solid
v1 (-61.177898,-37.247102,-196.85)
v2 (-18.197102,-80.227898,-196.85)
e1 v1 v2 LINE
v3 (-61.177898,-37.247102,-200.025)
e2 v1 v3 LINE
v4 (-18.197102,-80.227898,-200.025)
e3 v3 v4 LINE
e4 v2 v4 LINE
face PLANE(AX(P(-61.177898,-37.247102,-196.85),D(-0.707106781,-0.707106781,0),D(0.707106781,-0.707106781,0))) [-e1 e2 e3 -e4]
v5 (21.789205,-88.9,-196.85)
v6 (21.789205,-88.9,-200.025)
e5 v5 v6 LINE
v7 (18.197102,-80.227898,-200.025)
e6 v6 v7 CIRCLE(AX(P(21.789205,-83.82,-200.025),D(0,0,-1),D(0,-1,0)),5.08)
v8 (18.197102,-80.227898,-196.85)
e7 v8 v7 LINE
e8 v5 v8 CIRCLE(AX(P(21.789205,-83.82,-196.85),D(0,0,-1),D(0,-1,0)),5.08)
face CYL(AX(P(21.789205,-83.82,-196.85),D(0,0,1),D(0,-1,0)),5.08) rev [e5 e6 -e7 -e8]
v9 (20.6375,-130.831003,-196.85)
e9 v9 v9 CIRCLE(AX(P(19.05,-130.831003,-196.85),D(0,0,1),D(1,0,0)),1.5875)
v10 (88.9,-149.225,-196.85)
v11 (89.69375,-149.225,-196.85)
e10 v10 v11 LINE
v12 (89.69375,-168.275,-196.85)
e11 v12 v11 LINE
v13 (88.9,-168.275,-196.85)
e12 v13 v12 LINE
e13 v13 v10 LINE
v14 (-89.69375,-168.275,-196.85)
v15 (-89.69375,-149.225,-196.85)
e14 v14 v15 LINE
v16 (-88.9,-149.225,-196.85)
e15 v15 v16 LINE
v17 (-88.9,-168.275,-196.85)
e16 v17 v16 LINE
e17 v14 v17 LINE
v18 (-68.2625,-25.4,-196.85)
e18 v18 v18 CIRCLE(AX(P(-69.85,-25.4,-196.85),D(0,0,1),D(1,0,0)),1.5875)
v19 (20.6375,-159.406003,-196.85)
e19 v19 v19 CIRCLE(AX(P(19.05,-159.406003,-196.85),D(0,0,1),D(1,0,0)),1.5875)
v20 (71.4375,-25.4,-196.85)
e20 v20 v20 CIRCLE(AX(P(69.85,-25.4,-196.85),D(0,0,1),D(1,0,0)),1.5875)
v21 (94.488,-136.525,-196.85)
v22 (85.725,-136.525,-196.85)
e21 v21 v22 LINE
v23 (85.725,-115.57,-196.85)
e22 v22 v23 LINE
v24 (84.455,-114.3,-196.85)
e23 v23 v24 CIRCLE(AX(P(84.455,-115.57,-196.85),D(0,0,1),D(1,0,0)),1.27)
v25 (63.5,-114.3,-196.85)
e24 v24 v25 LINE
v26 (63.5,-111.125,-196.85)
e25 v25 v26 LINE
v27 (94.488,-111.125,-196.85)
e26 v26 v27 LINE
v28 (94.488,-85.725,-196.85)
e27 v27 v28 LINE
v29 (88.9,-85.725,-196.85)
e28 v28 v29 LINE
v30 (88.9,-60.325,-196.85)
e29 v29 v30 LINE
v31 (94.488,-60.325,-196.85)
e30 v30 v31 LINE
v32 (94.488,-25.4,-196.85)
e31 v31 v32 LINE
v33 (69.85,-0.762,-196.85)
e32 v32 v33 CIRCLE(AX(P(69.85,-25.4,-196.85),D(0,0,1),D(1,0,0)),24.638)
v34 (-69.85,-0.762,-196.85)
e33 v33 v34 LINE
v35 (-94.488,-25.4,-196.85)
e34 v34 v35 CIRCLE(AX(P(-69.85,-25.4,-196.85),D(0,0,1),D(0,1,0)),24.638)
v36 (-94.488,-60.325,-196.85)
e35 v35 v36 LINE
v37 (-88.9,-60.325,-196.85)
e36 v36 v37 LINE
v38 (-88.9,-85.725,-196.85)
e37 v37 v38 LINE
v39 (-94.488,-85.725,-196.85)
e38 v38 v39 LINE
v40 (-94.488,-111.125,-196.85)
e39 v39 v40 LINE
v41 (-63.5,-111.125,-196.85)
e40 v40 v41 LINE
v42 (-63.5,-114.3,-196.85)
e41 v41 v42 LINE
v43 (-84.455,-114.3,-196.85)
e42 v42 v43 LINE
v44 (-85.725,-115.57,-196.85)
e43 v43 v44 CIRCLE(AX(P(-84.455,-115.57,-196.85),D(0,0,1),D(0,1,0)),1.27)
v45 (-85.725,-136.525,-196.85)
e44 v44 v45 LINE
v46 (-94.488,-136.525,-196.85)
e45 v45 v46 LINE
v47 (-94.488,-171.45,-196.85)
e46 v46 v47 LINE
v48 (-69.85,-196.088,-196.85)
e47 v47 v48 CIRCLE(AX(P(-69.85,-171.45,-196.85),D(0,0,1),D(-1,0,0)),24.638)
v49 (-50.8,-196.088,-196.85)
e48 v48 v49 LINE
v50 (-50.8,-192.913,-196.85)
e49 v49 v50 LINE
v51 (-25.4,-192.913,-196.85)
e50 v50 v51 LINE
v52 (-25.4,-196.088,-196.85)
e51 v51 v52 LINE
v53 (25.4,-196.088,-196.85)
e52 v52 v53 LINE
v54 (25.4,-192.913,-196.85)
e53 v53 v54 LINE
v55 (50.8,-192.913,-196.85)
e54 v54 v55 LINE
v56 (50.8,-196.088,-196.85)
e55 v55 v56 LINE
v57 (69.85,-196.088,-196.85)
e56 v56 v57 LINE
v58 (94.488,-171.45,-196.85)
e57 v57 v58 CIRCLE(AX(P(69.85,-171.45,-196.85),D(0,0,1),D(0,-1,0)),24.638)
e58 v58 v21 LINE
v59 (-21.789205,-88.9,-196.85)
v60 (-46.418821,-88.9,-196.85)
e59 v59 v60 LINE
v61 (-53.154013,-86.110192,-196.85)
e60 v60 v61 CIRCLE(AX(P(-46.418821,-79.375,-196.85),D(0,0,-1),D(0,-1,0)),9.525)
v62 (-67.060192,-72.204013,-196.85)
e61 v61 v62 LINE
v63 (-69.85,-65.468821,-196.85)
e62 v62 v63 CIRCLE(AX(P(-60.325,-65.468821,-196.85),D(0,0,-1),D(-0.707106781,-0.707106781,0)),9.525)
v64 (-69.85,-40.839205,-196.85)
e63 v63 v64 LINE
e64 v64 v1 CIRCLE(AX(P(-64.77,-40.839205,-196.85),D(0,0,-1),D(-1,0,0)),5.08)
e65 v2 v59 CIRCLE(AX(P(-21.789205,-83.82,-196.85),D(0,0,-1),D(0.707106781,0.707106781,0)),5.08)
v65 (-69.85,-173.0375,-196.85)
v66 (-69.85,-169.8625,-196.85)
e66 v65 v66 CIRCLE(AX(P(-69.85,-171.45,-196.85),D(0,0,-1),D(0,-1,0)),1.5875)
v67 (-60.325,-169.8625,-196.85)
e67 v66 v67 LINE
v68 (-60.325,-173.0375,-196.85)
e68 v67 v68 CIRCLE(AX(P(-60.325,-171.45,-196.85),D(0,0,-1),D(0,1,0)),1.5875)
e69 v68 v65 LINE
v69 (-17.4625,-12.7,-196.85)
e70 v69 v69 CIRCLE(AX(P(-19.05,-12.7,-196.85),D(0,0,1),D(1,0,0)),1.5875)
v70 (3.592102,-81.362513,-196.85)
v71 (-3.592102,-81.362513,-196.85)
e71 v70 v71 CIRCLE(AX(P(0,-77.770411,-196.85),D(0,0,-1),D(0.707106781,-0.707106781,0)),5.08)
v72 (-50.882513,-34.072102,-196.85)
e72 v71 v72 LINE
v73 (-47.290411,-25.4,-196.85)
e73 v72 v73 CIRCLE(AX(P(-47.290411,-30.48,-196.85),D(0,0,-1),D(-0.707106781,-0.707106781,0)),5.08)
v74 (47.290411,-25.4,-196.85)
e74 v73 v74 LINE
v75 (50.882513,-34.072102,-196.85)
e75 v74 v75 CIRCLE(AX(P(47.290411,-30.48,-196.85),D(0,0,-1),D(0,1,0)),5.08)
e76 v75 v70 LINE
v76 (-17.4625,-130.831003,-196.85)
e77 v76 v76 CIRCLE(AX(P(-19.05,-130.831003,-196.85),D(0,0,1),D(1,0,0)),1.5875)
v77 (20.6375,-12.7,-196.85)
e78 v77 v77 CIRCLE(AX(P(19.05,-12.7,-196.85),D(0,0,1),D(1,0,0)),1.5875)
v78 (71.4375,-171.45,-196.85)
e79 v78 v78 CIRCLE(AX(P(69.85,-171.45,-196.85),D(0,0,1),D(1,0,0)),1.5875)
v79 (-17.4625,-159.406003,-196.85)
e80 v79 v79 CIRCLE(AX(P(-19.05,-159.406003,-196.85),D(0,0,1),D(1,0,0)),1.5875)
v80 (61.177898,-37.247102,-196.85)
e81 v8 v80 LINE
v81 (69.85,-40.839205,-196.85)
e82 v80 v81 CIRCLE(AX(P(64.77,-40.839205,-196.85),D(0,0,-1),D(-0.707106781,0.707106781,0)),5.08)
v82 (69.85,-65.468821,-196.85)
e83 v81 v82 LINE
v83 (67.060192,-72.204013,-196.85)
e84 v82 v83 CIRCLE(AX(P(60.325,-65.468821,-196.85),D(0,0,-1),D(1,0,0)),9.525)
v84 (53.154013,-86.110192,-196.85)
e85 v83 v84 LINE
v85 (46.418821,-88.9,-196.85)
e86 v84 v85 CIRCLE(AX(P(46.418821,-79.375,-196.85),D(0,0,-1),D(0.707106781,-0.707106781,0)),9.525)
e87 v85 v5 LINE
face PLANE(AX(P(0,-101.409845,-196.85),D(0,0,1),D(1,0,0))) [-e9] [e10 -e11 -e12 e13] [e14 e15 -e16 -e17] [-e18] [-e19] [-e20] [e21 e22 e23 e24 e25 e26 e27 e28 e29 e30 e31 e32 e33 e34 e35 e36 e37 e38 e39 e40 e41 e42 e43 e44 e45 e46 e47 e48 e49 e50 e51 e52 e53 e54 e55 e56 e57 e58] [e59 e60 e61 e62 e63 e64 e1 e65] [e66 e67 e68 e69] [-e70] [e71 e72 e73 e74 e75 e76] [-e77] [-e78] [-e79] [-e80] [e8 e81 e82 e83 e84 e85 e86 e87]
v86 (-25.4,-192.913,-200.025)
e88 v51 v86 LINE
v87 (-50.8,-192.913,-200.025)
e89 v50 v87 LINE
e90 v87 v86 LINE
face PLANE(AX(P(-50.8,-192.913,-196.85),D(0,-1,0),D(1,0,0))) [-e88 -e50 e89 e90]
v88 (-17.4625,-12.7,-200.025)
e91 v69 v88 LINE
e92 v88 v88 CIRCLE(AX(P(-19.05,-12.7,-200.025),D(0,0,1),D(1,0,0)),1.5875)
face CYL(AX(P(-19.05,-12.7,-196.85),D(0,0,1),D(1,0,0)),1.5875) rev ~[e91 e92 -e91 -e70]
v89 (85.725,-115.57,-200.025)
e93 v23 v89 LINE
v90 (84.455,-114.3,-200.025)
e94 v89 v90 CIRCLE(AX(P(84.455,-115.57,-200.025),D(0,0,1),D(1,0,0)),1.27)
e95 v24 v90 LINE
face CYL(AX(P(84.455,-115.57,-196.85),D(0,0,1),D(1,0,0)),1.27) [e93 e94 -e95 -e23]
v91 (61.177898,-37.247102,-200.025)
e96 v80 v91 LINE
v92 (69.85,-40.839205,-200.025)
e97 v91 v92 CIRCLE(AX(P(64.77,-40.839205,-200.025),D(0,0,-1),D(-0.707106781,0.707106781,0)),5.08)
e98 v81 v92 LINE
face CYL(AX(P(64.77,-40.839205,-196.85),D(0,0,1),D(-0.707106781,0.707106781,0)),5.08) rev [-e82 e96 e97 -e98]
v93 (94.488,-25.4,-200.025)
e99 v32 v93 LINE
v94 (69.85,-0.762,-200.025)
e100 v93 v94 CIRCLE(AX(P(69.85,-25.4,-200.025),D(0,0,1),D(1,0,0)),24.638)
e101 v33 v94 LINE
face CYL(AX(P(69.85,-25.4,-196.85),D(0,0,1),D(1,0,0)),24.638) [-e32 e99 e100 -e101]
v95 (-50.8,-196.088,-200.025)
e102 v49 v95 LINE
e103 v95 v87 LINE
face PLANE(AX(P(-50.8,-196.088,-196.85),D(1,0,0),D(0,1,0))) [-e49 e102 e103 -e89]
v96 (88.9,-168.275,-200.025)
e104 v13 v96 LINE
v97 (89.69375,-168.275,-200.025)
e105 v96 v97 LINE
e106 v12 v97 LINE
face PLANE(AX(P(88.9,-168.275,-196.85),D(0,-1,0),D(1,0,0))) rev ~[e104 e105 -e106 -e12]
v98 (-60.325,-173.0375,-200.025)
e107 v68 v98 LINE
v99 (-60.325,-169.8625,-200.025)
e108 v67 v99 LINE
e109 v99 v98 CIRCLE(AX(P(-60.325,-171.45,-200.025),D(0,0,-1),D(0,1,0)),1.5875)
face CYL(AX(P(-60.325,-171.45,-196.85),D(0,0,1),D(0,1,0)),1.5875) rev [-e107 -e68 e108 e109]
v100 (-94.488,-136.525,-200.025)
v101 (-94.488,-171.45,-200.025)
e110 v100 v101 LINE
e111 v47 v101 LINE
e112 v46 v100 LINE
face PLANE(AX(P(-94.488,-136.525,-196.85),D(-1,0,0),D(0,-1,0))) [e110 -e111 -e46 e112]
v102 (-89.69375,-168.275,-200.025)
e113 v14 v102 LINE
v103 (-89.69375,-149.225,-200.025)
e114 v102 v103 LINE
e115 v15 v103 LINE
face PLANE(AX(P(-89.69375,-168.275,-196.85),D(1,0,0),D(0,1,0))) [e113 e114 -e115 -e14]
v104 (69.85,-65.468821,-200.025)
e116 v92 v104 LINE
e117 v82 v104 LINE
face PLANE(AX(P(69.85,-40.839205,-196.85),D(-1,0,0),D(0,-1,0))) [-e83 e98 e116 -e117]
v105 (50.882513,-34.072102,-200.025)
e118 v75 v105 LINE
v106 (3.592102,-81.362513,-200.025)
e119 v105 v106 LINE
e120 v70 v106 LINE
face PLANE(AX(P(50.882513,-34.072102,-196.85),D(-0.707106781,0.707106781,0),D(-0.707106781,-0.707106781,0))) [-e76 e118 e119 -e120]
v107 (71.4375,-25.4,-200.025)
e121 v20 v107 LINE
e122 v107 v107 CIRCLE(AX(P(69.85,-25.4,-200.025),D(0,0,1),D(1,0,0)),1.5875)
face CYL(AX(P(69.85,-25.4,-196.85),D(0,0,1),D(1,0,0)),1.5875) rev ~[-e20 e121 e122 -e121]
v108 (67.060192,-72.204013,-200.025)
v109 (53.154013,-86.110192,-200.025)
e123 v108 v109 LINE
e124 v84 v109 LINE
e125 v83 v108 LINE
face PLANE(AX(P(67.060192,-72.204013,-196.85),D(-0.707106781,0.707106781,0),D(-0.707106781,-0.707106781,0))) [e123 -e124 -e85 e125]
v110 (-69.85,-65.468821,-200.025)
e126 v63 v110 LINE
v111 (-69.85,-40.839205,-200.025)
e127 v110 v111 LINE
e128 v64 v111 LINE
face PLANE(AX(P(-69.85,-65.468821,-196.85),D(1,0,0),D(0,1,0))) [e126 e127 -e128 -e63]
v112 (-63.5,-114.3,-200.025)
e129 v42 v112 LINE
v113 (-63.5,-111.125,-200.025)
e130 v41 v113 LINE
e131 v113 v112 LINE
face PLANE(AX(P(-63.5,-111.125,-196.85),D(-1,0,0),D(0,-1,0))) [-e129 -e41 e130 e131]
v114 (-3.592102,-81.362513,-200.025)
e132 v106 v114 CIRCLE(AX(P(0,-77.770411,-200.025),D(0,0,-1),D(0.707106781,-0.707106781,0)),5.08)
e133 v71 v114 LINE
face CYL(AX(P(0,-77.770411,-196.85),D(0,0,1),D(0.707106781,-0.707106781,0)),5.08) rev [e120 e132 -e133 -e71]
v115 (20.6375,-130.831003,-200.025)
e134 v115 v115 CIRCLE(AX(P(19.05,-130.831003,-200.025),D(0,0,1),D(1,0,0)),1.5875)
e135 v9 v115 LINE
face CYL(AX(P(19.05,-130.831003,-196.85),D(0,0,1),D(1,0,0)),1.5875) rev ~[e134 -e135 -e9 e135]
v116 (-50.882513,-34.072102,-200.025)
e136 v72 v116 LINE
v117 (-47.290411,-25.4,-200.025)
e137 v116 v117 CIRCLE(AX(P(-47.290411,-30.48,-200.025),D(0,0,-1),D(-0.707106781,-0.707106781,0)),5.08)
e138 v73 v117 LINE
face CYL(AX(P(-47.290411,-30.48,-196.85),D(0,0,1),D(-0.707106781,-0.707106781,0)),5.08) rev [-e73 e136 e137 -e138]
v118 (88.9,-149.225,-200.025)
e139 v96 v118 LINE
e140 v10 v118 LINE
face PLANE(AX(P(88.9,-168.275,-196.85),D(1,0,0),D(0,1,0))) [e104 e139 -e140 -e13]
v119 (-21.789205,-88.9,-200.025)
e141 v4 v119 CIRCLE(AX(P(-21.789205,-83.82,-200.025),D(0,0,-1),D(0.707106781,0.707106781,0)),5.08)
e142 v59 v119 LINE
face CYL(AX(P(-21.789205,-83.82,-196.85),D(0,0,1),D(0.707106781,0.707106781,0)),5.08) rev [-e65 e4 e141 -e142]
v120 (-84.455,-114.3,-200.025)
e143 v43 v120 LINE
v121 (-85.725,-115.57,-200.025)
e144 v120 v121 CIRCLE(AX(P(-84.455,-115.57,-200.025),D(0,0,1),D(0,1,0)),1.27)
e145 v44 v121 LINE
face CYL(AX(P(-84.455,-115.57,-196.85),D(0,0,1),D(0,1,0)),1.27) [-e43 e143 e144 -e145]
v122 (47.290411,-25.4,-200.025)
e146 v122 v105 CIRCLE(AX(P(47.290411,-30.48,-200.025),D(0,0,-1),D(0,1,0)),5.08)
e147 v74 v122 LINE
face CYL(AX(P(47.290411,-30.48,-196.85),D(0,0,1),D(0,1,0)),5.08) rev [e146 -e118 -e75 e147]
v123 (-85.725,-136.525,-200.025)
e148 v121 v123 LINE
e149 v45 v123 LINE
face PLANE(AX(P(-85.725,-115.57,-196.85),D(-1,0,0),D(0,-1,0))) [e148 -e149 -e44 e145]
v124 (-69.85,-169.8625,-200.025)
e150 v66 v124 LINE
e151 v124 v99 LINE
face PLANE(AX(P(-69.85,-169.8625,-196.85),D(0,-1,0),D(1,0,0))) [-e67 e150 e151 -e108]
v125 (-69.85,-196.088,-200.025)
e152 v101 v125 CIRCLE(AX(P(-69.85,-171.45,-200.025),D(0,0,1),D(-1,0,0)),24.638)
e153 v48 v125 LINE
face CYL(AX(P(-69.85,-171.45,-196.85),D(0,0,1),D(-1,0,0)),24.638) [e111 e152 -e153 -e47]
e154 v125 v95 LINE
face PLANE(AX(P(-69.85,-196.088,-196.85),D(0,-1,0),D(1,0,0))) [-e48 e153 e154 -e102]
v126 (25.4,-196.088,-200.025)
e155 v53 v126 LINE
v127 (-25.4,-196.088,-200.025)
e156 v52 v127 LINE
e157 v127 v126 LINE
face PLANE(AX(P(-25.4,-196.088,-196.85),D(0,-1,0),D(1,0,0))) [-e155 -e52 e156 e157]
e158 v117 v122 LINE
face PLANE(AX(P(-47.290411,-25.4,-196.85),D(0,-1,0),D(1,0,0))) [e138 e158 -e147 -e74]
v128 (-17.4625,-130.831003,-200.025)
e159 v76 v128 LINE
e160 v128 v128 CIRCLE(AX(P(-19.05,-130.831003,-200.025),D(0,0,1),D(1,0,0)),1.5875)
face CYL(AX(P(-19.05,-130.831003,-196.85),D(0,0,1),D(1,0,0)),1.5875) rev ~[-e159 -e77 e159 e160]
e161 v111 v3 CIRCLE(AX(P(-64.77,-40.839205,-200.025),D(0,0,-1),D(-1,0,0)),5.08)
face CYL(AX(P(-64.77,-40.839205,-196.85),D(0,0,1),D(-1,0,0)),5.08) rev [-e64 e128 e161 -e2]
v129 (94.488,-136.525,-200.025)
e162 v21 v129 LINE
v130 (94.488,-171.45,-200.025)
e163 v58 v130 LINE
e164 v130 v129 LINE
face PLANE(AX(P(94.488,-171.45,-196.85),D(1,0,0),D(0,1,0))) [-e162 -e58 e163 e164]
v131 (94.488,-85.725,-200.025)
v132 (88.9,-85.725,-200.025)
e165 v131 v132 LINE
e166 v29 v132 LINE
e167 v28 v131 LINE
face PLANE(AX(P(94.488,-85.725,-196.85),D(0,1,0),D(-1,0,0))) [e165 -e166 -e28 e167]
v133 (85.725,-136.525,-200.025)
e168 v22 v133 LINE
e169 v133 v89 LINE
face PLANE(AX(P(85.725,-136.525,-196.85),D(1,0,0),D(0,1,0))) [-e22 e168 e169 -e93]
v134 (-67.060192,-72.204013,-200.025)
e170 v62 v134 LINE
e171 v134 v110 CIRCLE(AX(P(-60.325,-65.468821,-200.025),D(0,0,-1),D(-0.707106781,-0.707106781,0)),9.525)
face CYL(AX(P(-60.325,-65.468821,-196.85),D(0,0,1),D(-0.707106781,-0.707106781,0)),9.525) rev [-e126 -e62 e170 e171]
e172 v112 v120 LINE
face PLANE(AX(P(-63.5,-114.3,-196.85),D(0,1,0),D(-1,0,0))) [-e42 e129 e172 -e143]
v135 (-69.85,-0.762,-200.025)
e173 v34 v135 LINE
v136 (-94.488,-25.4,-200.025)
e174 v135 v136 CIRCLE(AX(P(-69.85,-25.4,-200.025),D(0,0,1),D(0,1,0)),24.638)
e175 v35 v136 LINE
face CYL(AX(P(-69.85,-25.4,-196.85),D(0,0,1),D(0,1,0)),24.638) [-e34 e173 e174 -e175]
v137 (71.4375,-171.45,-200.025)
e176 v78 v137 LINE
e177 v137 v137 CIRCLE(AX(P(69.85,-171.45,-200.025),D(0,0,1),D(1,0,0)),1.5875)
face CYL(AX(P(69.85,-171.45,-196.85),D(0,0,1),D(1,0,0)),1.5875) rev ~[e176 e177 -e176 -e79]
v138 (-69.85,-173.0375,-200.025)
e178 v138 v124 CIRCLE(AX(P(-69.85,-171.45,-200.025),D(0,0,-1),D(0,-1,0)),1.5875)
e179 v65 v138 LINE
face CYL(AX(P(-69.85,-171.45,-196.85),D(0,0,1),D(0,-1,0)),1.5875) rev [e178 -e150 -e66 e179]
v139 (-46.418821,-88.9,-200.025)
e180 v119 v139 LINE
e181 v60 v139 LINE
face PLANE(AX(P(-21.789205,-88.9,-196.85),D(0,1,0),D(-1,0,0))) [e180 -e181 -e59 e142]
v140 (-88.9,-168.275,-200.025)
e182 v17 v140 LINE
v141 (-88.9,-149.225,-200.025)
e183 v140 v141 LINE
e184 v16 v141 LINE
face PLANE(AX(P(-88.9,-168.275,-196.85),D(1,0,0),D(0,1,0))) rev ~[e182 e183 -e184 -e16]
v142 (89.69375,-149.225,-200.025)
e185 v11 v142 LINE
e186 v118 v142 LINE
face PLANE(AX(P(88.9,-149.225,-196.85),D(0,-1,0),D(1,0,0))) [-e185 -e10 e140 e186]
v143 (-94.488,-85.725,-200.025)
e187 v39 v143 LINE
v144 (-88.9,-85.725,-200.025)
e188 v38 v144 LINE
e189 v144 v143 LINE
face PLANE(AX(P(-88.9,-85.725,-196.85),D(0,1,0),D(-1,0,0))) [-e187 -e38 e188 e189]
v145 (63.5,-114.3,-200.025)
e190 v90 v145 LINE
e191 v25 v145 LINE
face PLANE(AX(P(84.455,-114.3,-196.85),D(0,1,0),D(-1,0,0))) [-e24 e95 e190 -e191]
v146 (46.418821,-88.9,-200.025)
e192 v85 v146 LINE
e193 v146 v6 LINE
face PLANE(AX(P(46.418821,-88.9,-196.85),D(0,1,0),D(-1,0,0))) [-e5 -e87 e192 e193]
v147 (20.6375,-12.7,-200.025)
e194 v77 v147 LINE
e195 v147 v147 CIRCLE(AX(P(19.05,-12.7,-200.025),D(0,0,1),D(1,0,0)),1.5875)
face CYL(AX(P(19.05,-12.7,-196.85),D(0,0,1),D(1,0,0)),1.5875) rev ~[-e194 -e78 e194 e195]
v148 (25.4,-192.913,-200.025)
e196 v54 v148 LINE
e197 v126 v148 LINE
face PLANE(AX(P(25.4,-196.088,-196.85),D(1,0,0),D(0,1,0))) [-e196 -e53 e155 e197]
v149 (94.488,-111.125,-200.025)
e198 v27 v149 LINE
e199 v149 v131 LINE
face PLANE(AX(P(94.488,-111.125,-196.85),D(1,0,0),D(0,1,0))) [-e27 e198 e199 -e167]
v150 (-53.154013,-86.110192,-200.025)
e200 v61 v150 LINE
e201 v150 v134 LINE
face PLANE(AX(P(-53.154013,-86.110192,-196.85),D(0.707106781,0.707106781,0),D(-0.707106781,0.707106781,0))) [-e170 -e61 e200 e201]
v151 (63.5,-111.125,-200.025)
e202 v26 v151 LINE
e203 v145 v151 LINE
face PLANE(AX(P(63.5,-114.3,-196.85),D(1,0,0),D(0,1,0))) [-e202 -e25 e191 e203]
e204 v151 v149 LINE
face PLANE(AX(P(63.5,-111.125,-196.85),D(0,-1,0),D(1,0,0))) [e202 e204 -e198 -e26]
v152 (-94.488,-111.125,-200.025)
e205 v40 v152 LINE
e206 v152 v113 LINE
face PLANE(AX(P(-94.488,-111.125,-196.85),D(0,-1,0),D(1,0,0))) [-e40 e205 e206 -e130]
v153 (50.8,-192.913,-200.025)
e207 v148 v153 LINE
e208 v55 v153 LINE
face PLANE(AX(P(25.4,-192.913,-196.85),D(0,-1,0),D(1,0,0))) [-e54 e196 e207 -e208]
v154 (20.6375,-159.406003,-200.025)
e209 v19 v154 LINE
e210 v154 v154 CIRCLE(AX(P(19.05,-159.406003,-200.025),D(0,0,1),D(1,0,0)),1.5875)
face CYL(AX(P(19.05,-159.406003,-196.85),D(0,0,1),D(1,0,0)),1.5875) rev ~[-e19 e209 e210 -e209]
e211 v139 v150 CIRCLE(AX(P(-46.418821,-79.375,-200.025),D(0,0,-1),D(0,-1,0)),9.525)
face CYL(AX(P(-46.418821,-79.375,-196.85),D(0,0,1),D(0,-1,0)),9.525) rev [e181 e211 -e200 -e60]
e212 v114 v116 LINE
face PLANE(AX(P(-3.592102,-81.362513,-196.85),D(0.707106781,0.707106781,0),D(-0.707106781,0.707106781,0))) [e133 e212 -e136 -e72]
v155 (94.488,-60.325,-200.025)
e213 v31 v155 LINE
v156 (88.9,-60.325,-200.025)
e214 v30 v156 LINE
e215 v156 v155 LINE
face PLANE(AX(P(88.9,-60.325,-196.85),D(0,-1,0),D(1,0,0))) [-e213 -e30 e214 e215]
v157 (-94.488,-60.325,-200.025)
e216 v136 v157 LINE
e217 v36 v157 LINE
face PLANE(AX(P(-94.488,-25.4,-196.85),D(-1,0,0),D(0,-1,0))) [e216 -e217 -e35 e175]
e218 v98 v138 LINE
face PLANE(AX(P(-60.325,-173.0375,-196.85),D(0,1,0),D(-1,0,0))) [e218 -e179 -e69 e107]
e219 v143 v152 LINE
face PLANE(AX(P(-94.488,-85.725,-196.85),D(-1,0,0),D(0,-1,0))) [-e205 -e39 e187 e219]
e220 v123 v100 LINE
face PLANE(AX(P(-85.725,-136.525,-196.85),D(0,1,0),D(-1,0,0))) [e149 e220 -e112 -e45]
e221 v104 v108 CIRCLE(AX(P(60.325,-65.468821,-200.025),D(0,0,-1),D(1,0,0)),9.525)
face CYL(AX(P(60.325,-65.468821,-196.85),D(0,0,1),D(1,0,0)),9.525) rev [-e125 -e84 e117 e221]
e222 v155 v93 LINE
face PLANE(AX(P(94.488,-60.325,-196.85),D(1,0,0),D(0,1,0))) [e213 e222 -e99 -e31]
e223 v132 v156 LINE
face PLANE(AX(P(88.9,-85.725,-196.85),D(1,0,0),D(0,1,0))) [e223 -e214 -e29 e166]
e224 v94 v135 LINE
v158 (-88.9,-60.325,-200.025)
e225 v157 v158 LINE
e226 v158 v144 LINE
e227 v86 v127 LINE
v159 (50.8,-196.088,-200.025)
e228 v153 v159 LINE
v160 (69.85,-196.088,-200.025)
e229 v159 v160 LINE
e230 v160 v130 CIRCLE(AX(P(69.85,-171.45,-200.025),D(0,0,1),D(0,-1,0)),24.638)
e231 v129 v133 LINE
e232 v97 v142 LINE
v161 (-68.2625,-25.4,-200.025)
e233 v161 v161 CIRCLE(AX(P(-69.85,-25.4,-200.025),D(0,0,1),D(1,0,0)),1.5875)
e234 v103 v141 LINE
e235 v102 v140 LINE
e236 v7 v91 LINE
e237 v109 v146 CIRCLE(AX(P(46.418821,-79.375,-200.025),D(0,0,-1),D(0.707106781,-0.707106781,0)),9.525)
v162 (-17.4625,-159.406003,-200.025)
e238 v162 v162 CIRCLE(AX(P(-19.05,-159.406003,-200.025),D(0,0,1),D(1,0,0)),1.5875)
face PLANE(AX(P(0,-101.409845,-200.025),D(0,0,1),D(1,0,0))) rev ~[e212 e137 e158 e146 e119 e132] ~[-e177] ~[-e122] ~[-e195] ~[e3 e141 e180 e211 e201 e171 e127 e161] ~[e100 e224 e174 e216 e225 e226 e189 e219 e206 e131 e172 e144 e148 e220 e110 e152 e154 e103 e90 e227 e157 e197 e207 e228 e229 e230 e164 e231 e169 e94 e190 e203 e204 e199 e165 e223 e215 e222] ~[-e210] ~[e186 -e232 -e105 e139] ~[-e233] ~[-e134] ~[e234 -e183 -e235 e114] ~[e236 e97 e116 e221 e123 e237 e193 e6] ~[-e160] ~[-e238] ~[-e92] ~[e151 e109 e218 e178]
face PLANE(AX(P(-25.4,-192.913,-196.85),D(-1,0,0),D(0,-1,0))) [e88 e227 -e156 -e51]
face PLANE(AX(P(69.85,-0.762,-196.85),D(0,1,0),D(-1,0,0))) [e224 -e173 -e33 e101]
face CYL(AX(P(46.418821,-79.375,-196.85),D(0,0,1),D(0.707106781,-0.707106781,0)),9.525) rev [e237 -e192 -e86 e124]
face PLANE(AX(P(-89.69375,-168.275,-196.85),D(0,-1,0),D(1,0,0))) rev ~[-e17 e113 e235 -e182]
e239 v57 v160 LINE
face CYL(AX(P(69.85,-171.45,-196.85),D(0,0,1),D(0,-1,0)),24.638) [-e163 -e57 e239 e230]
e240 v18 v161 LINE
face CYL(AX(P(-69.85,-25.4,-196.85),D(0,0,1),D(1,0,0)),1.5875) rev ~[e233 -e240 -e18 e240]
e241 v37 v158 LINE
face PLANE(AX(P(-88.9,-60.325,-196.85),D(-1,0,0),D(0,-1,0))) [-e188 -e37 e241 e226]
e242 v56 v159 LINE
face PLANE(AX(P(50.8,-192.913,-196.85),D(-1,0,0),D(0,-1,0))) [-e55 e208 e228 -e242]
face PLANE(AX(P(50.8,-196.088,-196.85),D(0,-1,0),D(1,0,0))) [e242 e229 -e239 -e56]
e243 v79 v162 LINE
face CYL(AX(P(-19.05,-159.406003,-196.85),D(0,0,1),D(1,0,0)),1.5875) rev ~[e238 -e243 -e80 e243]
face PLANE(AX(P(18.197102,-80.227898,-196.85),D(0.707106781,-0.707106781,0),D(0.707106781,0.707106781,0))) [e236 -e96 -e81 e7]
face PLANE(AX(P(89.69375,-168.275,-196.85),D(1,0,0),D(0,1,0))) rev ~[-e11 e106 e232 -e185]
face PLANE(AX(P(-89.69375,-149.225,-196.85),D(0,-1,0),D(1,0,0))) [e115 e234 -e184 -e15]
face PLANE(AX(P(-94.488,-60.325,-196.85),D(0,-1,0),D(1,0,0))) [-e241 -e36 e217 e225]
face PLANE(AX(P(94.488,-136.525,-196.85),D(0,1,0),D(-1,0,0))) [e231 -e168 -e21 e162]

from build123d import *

# Parameters (mm, degrees)
SKETCH1_W           = 0.79375
SKETCH1_H           = 19.05
SKETCH1_R           = 1.5875
BOSS_EXTRUDE1_DEPTH = 3.175


with BuildPart() as part:
    # Sketch1 → Boss-Extrude1 (new body)
    with BuildSketch(Plane.XY.offset(-196.85)):
        with BuildLine():
            Line((-85.725, -136.525), (-94.488, -136.525))
            Line((-94.488, -136.525), (-94.488, -171.45))
            ThreePointArc((-94.488, -171.45), (-87.271696875, -188.871696875), (-69.85, -196.088))
            Line((-69.85, -196.088), (-50.8, -196.088))
            Line((-50.8, -196.088), (-50.8, -192.913))
            Line((-50.8, -192.913), (-25.4, -192.913))
            Line((-25.4, -192.913), (-25.4, -196.088))
            Line((-25.4, -196.088), (25.4, -196.088))
            Line((25.4, -196.088), (25.4, -192.913))
            Line((25.4, -192.913), (50.8, -192.913))
            Line((50.8, -192.913), (50.8, -196.088))
            Line((50.8, -196.088), (69.85, -196.088))
            ThreePointArc((69.85, -196.088), (87.271696875, -188.871696875), (94.488, -171.45))
            Line((94.488, -171.45), (94.488, -136.525))
            Line((94.488, -136.525), (85.725, -136.525))
            Line((85.725, -136.525), (85.725, -115.57))
            ThreePointArc((85.725, -115.57), (85.353025612, -114.671974388), (84.455, -114.3))
            Line((84.455, -114.3), (63.5, -114.3))
            Line((63.5, -114.3), (63.5, -111.125))
            Line((63.5, -111.125), (94.488, -111.125))
            Line((94.488, -111.125), (94.488, -85.725))
            Line((94.488, -85.725), (88.9, -85.725))
            Line((88.9, -85.725), (88.9, -60.325))
            Line((88.9, -60.325), (94.488, -60.325))
            Line((94.488, -60.325), (94.488, -25.4))
            ThreePointArc((94.488, -25.4), (87.271696875, -7.978303125), (69.85, -0.762))
            Line((69.85, -0.762), (-69.85, -0.762))
            ThreePointArc((-69.85, -0.762), (-87.271696875, -7.978303125), (-94.488, -25.4))
            Line((-94.488, -25.4), (-94.488, -60.325))
            Line((-94.488, -60.325), (-88.9, -60.325))
            Line((-88.9, -60.325), (-88.9, -85.725))
            Line((-88.9, -85.725), (-94.488, -85.725))
            Line((-94.488, -85.725), (-94.488, -111.125))
            Line((-94.488, -111.125), (-63.5, -111.125))
            Line((-63.5, -111.125), (-63.5, -114.3))
            Line((-63.5, -114.3), (-84.455, -114.3))
            ThreePointArc((-84.455, -114.3), (-85.353025612, -114.671974388), (-85.725, -115.57))
            Line((-85.725, -115.57), (-85.725, -136.525))
        make_face()
        with Locations((-89.296875, -158.75)):
            Rectangle(SKETCH1_W, SKETCH1_H, mode=Mode.SUBTRACT)
        with BuildLine():
            ThreePointArc((-69.85, -173.0375), (-71.4375, -171.45), (-69.85, -169.8625))
            Line((-69.85, -169.8625), (-60.325, -169.8625))
            ThreePointArc((-60.325, -169.8625), (-58.7375, -171.45), (-60.325, -173.0375))
            Line((-60.325, -173.0375), (-69.85, -173.0375))
        make_face(mode=Mode.SUBTRACT)
        with Locations((-19.05, -159.40600326)):
            Circle(SKETCH1_R, mode=Mode.SUBTRACT)
        with Locations((-19.05, -130.83100326)):
            Circle(SKETCH1_R, mode=Mode.SUBTRACT)
        with Locations((19.05, -159.40600326)):
            Circle(SKETCH1_R, mode=Mode.SUBTRACT)
        with Locations((69.85, -171.45)):
            Circle(SKETCH1_R, mode=Mode.SUBTRACT)
        with Locations((89.296875, -158.75)):
            Rectangle(SKETCH1_W, SKETCH1_H, mode=Mode.SUBTRACT)
        with Locations((19.05, -130.83100326)):
            Circle(SKETCH1_R, mode=Mode.SUBTRACT)
        with BuildLine():
            ThreePointArc((-67.060192091, -72.204012806), (-69.124952547, -69.113880409), (-69.85, -65.468820715))
            Line((-69.85, -65.468820715), (-69.85, -40.839204897))
            ThreePointArc((-69.85, -40.839204897), (-66.714031836, -36.145896872), (-61.177897552, -37.247102448))
            Line((-61.177897552, -37.247102448), (-18.197102448, -80.227897552))
            ThreePointArc((-18.197102448, -80.227897552), (-17.095896872, -85.764031836), (-21.789204897, -88.9))
            Line((-21.789204897, -88.9), (-46.418820715, -88.9))
            ThreePointArc((-46.418820715, -88.9), (-50.063880409, -88.174952547), (-53.154012806, -86.110192091))
            Line((-53.154012806, -86.110192091), (-67.060192091, -72.204012806))
        make_face(mode=Mode.SUBTRACT)
        with Locations((-69.85, -25.4)):
            Circle(SKETCH1_R, mode=Mode.SUBTRACT)
        with Locations((-19.05, -12.7)):
            Circle(SKETCH1_R, mode=Mode.SUBTRACT)
        with BuildLine():
            ThreePointArc((3.592102448, -81.36251337), (0, -82.850410922), (-3.592102448, -81.36251337))
            Line((-3.592102448, -81.36251337), (-50.88251337, -34.072102448))
            ThreePointArc((-50.88251337, -34.072102448), (-51.983718947, -28.535968164), (-47.290410922, -25.4))
            Line((-47.290410922, -25.4), (47.290410922, -25.4))
            ThreePointArc((47.290410922, -25.4), (51.983718947, -28.535968164), (50.88251337, -34.072102448))
            Line((50.88251337, -34.072102448), (3.592102448, -81.36251337))
        make_face(mode=Mode.SUBTRACT)
        with BuildLine():
            ThreePointArc((53.154012806, -86.110192091), (50.063880409, -88.174952547), (46.418820715, -88.9))
            Line((46.418820715, -88.9), (21.789204897, -88.9))
            ThreePointArc((21.789204897, -88.9), (17.095896872, -85.764031836), (18.197102448, -80.227897552))
            Line((18.197102448, -80.227897552), (61.177897552, -37.247102448))
            ThreePointArc((61.177897552, -37.247102448), (66.714031836, -36.145896872), (69.85, -40.839204897))
            Line((69.85, -40.839204897), (69.85, -65.468820715))
            ThreePointArc((69.85, -65.468820715), (69.124952547, -69.113880409), (67.060192091, -72.204012806))
            Line((67.060192091, -72.204012806), (53.154012806, -86.110192091))
        make_face(mode=Mode.SUBTRACT)
        with Locations((19.05, -12.7)):
            Circle(SKETCH1_R, mode=Mode.SUBTRACT)
        with Locations((69.85, -25.4)):
            Circle(SKETCH1_R, mode=Mode.SUBTRACT)
    extrude(amount=-BOSS_EXTRUDE1_DEPTH)


solid = part.part
